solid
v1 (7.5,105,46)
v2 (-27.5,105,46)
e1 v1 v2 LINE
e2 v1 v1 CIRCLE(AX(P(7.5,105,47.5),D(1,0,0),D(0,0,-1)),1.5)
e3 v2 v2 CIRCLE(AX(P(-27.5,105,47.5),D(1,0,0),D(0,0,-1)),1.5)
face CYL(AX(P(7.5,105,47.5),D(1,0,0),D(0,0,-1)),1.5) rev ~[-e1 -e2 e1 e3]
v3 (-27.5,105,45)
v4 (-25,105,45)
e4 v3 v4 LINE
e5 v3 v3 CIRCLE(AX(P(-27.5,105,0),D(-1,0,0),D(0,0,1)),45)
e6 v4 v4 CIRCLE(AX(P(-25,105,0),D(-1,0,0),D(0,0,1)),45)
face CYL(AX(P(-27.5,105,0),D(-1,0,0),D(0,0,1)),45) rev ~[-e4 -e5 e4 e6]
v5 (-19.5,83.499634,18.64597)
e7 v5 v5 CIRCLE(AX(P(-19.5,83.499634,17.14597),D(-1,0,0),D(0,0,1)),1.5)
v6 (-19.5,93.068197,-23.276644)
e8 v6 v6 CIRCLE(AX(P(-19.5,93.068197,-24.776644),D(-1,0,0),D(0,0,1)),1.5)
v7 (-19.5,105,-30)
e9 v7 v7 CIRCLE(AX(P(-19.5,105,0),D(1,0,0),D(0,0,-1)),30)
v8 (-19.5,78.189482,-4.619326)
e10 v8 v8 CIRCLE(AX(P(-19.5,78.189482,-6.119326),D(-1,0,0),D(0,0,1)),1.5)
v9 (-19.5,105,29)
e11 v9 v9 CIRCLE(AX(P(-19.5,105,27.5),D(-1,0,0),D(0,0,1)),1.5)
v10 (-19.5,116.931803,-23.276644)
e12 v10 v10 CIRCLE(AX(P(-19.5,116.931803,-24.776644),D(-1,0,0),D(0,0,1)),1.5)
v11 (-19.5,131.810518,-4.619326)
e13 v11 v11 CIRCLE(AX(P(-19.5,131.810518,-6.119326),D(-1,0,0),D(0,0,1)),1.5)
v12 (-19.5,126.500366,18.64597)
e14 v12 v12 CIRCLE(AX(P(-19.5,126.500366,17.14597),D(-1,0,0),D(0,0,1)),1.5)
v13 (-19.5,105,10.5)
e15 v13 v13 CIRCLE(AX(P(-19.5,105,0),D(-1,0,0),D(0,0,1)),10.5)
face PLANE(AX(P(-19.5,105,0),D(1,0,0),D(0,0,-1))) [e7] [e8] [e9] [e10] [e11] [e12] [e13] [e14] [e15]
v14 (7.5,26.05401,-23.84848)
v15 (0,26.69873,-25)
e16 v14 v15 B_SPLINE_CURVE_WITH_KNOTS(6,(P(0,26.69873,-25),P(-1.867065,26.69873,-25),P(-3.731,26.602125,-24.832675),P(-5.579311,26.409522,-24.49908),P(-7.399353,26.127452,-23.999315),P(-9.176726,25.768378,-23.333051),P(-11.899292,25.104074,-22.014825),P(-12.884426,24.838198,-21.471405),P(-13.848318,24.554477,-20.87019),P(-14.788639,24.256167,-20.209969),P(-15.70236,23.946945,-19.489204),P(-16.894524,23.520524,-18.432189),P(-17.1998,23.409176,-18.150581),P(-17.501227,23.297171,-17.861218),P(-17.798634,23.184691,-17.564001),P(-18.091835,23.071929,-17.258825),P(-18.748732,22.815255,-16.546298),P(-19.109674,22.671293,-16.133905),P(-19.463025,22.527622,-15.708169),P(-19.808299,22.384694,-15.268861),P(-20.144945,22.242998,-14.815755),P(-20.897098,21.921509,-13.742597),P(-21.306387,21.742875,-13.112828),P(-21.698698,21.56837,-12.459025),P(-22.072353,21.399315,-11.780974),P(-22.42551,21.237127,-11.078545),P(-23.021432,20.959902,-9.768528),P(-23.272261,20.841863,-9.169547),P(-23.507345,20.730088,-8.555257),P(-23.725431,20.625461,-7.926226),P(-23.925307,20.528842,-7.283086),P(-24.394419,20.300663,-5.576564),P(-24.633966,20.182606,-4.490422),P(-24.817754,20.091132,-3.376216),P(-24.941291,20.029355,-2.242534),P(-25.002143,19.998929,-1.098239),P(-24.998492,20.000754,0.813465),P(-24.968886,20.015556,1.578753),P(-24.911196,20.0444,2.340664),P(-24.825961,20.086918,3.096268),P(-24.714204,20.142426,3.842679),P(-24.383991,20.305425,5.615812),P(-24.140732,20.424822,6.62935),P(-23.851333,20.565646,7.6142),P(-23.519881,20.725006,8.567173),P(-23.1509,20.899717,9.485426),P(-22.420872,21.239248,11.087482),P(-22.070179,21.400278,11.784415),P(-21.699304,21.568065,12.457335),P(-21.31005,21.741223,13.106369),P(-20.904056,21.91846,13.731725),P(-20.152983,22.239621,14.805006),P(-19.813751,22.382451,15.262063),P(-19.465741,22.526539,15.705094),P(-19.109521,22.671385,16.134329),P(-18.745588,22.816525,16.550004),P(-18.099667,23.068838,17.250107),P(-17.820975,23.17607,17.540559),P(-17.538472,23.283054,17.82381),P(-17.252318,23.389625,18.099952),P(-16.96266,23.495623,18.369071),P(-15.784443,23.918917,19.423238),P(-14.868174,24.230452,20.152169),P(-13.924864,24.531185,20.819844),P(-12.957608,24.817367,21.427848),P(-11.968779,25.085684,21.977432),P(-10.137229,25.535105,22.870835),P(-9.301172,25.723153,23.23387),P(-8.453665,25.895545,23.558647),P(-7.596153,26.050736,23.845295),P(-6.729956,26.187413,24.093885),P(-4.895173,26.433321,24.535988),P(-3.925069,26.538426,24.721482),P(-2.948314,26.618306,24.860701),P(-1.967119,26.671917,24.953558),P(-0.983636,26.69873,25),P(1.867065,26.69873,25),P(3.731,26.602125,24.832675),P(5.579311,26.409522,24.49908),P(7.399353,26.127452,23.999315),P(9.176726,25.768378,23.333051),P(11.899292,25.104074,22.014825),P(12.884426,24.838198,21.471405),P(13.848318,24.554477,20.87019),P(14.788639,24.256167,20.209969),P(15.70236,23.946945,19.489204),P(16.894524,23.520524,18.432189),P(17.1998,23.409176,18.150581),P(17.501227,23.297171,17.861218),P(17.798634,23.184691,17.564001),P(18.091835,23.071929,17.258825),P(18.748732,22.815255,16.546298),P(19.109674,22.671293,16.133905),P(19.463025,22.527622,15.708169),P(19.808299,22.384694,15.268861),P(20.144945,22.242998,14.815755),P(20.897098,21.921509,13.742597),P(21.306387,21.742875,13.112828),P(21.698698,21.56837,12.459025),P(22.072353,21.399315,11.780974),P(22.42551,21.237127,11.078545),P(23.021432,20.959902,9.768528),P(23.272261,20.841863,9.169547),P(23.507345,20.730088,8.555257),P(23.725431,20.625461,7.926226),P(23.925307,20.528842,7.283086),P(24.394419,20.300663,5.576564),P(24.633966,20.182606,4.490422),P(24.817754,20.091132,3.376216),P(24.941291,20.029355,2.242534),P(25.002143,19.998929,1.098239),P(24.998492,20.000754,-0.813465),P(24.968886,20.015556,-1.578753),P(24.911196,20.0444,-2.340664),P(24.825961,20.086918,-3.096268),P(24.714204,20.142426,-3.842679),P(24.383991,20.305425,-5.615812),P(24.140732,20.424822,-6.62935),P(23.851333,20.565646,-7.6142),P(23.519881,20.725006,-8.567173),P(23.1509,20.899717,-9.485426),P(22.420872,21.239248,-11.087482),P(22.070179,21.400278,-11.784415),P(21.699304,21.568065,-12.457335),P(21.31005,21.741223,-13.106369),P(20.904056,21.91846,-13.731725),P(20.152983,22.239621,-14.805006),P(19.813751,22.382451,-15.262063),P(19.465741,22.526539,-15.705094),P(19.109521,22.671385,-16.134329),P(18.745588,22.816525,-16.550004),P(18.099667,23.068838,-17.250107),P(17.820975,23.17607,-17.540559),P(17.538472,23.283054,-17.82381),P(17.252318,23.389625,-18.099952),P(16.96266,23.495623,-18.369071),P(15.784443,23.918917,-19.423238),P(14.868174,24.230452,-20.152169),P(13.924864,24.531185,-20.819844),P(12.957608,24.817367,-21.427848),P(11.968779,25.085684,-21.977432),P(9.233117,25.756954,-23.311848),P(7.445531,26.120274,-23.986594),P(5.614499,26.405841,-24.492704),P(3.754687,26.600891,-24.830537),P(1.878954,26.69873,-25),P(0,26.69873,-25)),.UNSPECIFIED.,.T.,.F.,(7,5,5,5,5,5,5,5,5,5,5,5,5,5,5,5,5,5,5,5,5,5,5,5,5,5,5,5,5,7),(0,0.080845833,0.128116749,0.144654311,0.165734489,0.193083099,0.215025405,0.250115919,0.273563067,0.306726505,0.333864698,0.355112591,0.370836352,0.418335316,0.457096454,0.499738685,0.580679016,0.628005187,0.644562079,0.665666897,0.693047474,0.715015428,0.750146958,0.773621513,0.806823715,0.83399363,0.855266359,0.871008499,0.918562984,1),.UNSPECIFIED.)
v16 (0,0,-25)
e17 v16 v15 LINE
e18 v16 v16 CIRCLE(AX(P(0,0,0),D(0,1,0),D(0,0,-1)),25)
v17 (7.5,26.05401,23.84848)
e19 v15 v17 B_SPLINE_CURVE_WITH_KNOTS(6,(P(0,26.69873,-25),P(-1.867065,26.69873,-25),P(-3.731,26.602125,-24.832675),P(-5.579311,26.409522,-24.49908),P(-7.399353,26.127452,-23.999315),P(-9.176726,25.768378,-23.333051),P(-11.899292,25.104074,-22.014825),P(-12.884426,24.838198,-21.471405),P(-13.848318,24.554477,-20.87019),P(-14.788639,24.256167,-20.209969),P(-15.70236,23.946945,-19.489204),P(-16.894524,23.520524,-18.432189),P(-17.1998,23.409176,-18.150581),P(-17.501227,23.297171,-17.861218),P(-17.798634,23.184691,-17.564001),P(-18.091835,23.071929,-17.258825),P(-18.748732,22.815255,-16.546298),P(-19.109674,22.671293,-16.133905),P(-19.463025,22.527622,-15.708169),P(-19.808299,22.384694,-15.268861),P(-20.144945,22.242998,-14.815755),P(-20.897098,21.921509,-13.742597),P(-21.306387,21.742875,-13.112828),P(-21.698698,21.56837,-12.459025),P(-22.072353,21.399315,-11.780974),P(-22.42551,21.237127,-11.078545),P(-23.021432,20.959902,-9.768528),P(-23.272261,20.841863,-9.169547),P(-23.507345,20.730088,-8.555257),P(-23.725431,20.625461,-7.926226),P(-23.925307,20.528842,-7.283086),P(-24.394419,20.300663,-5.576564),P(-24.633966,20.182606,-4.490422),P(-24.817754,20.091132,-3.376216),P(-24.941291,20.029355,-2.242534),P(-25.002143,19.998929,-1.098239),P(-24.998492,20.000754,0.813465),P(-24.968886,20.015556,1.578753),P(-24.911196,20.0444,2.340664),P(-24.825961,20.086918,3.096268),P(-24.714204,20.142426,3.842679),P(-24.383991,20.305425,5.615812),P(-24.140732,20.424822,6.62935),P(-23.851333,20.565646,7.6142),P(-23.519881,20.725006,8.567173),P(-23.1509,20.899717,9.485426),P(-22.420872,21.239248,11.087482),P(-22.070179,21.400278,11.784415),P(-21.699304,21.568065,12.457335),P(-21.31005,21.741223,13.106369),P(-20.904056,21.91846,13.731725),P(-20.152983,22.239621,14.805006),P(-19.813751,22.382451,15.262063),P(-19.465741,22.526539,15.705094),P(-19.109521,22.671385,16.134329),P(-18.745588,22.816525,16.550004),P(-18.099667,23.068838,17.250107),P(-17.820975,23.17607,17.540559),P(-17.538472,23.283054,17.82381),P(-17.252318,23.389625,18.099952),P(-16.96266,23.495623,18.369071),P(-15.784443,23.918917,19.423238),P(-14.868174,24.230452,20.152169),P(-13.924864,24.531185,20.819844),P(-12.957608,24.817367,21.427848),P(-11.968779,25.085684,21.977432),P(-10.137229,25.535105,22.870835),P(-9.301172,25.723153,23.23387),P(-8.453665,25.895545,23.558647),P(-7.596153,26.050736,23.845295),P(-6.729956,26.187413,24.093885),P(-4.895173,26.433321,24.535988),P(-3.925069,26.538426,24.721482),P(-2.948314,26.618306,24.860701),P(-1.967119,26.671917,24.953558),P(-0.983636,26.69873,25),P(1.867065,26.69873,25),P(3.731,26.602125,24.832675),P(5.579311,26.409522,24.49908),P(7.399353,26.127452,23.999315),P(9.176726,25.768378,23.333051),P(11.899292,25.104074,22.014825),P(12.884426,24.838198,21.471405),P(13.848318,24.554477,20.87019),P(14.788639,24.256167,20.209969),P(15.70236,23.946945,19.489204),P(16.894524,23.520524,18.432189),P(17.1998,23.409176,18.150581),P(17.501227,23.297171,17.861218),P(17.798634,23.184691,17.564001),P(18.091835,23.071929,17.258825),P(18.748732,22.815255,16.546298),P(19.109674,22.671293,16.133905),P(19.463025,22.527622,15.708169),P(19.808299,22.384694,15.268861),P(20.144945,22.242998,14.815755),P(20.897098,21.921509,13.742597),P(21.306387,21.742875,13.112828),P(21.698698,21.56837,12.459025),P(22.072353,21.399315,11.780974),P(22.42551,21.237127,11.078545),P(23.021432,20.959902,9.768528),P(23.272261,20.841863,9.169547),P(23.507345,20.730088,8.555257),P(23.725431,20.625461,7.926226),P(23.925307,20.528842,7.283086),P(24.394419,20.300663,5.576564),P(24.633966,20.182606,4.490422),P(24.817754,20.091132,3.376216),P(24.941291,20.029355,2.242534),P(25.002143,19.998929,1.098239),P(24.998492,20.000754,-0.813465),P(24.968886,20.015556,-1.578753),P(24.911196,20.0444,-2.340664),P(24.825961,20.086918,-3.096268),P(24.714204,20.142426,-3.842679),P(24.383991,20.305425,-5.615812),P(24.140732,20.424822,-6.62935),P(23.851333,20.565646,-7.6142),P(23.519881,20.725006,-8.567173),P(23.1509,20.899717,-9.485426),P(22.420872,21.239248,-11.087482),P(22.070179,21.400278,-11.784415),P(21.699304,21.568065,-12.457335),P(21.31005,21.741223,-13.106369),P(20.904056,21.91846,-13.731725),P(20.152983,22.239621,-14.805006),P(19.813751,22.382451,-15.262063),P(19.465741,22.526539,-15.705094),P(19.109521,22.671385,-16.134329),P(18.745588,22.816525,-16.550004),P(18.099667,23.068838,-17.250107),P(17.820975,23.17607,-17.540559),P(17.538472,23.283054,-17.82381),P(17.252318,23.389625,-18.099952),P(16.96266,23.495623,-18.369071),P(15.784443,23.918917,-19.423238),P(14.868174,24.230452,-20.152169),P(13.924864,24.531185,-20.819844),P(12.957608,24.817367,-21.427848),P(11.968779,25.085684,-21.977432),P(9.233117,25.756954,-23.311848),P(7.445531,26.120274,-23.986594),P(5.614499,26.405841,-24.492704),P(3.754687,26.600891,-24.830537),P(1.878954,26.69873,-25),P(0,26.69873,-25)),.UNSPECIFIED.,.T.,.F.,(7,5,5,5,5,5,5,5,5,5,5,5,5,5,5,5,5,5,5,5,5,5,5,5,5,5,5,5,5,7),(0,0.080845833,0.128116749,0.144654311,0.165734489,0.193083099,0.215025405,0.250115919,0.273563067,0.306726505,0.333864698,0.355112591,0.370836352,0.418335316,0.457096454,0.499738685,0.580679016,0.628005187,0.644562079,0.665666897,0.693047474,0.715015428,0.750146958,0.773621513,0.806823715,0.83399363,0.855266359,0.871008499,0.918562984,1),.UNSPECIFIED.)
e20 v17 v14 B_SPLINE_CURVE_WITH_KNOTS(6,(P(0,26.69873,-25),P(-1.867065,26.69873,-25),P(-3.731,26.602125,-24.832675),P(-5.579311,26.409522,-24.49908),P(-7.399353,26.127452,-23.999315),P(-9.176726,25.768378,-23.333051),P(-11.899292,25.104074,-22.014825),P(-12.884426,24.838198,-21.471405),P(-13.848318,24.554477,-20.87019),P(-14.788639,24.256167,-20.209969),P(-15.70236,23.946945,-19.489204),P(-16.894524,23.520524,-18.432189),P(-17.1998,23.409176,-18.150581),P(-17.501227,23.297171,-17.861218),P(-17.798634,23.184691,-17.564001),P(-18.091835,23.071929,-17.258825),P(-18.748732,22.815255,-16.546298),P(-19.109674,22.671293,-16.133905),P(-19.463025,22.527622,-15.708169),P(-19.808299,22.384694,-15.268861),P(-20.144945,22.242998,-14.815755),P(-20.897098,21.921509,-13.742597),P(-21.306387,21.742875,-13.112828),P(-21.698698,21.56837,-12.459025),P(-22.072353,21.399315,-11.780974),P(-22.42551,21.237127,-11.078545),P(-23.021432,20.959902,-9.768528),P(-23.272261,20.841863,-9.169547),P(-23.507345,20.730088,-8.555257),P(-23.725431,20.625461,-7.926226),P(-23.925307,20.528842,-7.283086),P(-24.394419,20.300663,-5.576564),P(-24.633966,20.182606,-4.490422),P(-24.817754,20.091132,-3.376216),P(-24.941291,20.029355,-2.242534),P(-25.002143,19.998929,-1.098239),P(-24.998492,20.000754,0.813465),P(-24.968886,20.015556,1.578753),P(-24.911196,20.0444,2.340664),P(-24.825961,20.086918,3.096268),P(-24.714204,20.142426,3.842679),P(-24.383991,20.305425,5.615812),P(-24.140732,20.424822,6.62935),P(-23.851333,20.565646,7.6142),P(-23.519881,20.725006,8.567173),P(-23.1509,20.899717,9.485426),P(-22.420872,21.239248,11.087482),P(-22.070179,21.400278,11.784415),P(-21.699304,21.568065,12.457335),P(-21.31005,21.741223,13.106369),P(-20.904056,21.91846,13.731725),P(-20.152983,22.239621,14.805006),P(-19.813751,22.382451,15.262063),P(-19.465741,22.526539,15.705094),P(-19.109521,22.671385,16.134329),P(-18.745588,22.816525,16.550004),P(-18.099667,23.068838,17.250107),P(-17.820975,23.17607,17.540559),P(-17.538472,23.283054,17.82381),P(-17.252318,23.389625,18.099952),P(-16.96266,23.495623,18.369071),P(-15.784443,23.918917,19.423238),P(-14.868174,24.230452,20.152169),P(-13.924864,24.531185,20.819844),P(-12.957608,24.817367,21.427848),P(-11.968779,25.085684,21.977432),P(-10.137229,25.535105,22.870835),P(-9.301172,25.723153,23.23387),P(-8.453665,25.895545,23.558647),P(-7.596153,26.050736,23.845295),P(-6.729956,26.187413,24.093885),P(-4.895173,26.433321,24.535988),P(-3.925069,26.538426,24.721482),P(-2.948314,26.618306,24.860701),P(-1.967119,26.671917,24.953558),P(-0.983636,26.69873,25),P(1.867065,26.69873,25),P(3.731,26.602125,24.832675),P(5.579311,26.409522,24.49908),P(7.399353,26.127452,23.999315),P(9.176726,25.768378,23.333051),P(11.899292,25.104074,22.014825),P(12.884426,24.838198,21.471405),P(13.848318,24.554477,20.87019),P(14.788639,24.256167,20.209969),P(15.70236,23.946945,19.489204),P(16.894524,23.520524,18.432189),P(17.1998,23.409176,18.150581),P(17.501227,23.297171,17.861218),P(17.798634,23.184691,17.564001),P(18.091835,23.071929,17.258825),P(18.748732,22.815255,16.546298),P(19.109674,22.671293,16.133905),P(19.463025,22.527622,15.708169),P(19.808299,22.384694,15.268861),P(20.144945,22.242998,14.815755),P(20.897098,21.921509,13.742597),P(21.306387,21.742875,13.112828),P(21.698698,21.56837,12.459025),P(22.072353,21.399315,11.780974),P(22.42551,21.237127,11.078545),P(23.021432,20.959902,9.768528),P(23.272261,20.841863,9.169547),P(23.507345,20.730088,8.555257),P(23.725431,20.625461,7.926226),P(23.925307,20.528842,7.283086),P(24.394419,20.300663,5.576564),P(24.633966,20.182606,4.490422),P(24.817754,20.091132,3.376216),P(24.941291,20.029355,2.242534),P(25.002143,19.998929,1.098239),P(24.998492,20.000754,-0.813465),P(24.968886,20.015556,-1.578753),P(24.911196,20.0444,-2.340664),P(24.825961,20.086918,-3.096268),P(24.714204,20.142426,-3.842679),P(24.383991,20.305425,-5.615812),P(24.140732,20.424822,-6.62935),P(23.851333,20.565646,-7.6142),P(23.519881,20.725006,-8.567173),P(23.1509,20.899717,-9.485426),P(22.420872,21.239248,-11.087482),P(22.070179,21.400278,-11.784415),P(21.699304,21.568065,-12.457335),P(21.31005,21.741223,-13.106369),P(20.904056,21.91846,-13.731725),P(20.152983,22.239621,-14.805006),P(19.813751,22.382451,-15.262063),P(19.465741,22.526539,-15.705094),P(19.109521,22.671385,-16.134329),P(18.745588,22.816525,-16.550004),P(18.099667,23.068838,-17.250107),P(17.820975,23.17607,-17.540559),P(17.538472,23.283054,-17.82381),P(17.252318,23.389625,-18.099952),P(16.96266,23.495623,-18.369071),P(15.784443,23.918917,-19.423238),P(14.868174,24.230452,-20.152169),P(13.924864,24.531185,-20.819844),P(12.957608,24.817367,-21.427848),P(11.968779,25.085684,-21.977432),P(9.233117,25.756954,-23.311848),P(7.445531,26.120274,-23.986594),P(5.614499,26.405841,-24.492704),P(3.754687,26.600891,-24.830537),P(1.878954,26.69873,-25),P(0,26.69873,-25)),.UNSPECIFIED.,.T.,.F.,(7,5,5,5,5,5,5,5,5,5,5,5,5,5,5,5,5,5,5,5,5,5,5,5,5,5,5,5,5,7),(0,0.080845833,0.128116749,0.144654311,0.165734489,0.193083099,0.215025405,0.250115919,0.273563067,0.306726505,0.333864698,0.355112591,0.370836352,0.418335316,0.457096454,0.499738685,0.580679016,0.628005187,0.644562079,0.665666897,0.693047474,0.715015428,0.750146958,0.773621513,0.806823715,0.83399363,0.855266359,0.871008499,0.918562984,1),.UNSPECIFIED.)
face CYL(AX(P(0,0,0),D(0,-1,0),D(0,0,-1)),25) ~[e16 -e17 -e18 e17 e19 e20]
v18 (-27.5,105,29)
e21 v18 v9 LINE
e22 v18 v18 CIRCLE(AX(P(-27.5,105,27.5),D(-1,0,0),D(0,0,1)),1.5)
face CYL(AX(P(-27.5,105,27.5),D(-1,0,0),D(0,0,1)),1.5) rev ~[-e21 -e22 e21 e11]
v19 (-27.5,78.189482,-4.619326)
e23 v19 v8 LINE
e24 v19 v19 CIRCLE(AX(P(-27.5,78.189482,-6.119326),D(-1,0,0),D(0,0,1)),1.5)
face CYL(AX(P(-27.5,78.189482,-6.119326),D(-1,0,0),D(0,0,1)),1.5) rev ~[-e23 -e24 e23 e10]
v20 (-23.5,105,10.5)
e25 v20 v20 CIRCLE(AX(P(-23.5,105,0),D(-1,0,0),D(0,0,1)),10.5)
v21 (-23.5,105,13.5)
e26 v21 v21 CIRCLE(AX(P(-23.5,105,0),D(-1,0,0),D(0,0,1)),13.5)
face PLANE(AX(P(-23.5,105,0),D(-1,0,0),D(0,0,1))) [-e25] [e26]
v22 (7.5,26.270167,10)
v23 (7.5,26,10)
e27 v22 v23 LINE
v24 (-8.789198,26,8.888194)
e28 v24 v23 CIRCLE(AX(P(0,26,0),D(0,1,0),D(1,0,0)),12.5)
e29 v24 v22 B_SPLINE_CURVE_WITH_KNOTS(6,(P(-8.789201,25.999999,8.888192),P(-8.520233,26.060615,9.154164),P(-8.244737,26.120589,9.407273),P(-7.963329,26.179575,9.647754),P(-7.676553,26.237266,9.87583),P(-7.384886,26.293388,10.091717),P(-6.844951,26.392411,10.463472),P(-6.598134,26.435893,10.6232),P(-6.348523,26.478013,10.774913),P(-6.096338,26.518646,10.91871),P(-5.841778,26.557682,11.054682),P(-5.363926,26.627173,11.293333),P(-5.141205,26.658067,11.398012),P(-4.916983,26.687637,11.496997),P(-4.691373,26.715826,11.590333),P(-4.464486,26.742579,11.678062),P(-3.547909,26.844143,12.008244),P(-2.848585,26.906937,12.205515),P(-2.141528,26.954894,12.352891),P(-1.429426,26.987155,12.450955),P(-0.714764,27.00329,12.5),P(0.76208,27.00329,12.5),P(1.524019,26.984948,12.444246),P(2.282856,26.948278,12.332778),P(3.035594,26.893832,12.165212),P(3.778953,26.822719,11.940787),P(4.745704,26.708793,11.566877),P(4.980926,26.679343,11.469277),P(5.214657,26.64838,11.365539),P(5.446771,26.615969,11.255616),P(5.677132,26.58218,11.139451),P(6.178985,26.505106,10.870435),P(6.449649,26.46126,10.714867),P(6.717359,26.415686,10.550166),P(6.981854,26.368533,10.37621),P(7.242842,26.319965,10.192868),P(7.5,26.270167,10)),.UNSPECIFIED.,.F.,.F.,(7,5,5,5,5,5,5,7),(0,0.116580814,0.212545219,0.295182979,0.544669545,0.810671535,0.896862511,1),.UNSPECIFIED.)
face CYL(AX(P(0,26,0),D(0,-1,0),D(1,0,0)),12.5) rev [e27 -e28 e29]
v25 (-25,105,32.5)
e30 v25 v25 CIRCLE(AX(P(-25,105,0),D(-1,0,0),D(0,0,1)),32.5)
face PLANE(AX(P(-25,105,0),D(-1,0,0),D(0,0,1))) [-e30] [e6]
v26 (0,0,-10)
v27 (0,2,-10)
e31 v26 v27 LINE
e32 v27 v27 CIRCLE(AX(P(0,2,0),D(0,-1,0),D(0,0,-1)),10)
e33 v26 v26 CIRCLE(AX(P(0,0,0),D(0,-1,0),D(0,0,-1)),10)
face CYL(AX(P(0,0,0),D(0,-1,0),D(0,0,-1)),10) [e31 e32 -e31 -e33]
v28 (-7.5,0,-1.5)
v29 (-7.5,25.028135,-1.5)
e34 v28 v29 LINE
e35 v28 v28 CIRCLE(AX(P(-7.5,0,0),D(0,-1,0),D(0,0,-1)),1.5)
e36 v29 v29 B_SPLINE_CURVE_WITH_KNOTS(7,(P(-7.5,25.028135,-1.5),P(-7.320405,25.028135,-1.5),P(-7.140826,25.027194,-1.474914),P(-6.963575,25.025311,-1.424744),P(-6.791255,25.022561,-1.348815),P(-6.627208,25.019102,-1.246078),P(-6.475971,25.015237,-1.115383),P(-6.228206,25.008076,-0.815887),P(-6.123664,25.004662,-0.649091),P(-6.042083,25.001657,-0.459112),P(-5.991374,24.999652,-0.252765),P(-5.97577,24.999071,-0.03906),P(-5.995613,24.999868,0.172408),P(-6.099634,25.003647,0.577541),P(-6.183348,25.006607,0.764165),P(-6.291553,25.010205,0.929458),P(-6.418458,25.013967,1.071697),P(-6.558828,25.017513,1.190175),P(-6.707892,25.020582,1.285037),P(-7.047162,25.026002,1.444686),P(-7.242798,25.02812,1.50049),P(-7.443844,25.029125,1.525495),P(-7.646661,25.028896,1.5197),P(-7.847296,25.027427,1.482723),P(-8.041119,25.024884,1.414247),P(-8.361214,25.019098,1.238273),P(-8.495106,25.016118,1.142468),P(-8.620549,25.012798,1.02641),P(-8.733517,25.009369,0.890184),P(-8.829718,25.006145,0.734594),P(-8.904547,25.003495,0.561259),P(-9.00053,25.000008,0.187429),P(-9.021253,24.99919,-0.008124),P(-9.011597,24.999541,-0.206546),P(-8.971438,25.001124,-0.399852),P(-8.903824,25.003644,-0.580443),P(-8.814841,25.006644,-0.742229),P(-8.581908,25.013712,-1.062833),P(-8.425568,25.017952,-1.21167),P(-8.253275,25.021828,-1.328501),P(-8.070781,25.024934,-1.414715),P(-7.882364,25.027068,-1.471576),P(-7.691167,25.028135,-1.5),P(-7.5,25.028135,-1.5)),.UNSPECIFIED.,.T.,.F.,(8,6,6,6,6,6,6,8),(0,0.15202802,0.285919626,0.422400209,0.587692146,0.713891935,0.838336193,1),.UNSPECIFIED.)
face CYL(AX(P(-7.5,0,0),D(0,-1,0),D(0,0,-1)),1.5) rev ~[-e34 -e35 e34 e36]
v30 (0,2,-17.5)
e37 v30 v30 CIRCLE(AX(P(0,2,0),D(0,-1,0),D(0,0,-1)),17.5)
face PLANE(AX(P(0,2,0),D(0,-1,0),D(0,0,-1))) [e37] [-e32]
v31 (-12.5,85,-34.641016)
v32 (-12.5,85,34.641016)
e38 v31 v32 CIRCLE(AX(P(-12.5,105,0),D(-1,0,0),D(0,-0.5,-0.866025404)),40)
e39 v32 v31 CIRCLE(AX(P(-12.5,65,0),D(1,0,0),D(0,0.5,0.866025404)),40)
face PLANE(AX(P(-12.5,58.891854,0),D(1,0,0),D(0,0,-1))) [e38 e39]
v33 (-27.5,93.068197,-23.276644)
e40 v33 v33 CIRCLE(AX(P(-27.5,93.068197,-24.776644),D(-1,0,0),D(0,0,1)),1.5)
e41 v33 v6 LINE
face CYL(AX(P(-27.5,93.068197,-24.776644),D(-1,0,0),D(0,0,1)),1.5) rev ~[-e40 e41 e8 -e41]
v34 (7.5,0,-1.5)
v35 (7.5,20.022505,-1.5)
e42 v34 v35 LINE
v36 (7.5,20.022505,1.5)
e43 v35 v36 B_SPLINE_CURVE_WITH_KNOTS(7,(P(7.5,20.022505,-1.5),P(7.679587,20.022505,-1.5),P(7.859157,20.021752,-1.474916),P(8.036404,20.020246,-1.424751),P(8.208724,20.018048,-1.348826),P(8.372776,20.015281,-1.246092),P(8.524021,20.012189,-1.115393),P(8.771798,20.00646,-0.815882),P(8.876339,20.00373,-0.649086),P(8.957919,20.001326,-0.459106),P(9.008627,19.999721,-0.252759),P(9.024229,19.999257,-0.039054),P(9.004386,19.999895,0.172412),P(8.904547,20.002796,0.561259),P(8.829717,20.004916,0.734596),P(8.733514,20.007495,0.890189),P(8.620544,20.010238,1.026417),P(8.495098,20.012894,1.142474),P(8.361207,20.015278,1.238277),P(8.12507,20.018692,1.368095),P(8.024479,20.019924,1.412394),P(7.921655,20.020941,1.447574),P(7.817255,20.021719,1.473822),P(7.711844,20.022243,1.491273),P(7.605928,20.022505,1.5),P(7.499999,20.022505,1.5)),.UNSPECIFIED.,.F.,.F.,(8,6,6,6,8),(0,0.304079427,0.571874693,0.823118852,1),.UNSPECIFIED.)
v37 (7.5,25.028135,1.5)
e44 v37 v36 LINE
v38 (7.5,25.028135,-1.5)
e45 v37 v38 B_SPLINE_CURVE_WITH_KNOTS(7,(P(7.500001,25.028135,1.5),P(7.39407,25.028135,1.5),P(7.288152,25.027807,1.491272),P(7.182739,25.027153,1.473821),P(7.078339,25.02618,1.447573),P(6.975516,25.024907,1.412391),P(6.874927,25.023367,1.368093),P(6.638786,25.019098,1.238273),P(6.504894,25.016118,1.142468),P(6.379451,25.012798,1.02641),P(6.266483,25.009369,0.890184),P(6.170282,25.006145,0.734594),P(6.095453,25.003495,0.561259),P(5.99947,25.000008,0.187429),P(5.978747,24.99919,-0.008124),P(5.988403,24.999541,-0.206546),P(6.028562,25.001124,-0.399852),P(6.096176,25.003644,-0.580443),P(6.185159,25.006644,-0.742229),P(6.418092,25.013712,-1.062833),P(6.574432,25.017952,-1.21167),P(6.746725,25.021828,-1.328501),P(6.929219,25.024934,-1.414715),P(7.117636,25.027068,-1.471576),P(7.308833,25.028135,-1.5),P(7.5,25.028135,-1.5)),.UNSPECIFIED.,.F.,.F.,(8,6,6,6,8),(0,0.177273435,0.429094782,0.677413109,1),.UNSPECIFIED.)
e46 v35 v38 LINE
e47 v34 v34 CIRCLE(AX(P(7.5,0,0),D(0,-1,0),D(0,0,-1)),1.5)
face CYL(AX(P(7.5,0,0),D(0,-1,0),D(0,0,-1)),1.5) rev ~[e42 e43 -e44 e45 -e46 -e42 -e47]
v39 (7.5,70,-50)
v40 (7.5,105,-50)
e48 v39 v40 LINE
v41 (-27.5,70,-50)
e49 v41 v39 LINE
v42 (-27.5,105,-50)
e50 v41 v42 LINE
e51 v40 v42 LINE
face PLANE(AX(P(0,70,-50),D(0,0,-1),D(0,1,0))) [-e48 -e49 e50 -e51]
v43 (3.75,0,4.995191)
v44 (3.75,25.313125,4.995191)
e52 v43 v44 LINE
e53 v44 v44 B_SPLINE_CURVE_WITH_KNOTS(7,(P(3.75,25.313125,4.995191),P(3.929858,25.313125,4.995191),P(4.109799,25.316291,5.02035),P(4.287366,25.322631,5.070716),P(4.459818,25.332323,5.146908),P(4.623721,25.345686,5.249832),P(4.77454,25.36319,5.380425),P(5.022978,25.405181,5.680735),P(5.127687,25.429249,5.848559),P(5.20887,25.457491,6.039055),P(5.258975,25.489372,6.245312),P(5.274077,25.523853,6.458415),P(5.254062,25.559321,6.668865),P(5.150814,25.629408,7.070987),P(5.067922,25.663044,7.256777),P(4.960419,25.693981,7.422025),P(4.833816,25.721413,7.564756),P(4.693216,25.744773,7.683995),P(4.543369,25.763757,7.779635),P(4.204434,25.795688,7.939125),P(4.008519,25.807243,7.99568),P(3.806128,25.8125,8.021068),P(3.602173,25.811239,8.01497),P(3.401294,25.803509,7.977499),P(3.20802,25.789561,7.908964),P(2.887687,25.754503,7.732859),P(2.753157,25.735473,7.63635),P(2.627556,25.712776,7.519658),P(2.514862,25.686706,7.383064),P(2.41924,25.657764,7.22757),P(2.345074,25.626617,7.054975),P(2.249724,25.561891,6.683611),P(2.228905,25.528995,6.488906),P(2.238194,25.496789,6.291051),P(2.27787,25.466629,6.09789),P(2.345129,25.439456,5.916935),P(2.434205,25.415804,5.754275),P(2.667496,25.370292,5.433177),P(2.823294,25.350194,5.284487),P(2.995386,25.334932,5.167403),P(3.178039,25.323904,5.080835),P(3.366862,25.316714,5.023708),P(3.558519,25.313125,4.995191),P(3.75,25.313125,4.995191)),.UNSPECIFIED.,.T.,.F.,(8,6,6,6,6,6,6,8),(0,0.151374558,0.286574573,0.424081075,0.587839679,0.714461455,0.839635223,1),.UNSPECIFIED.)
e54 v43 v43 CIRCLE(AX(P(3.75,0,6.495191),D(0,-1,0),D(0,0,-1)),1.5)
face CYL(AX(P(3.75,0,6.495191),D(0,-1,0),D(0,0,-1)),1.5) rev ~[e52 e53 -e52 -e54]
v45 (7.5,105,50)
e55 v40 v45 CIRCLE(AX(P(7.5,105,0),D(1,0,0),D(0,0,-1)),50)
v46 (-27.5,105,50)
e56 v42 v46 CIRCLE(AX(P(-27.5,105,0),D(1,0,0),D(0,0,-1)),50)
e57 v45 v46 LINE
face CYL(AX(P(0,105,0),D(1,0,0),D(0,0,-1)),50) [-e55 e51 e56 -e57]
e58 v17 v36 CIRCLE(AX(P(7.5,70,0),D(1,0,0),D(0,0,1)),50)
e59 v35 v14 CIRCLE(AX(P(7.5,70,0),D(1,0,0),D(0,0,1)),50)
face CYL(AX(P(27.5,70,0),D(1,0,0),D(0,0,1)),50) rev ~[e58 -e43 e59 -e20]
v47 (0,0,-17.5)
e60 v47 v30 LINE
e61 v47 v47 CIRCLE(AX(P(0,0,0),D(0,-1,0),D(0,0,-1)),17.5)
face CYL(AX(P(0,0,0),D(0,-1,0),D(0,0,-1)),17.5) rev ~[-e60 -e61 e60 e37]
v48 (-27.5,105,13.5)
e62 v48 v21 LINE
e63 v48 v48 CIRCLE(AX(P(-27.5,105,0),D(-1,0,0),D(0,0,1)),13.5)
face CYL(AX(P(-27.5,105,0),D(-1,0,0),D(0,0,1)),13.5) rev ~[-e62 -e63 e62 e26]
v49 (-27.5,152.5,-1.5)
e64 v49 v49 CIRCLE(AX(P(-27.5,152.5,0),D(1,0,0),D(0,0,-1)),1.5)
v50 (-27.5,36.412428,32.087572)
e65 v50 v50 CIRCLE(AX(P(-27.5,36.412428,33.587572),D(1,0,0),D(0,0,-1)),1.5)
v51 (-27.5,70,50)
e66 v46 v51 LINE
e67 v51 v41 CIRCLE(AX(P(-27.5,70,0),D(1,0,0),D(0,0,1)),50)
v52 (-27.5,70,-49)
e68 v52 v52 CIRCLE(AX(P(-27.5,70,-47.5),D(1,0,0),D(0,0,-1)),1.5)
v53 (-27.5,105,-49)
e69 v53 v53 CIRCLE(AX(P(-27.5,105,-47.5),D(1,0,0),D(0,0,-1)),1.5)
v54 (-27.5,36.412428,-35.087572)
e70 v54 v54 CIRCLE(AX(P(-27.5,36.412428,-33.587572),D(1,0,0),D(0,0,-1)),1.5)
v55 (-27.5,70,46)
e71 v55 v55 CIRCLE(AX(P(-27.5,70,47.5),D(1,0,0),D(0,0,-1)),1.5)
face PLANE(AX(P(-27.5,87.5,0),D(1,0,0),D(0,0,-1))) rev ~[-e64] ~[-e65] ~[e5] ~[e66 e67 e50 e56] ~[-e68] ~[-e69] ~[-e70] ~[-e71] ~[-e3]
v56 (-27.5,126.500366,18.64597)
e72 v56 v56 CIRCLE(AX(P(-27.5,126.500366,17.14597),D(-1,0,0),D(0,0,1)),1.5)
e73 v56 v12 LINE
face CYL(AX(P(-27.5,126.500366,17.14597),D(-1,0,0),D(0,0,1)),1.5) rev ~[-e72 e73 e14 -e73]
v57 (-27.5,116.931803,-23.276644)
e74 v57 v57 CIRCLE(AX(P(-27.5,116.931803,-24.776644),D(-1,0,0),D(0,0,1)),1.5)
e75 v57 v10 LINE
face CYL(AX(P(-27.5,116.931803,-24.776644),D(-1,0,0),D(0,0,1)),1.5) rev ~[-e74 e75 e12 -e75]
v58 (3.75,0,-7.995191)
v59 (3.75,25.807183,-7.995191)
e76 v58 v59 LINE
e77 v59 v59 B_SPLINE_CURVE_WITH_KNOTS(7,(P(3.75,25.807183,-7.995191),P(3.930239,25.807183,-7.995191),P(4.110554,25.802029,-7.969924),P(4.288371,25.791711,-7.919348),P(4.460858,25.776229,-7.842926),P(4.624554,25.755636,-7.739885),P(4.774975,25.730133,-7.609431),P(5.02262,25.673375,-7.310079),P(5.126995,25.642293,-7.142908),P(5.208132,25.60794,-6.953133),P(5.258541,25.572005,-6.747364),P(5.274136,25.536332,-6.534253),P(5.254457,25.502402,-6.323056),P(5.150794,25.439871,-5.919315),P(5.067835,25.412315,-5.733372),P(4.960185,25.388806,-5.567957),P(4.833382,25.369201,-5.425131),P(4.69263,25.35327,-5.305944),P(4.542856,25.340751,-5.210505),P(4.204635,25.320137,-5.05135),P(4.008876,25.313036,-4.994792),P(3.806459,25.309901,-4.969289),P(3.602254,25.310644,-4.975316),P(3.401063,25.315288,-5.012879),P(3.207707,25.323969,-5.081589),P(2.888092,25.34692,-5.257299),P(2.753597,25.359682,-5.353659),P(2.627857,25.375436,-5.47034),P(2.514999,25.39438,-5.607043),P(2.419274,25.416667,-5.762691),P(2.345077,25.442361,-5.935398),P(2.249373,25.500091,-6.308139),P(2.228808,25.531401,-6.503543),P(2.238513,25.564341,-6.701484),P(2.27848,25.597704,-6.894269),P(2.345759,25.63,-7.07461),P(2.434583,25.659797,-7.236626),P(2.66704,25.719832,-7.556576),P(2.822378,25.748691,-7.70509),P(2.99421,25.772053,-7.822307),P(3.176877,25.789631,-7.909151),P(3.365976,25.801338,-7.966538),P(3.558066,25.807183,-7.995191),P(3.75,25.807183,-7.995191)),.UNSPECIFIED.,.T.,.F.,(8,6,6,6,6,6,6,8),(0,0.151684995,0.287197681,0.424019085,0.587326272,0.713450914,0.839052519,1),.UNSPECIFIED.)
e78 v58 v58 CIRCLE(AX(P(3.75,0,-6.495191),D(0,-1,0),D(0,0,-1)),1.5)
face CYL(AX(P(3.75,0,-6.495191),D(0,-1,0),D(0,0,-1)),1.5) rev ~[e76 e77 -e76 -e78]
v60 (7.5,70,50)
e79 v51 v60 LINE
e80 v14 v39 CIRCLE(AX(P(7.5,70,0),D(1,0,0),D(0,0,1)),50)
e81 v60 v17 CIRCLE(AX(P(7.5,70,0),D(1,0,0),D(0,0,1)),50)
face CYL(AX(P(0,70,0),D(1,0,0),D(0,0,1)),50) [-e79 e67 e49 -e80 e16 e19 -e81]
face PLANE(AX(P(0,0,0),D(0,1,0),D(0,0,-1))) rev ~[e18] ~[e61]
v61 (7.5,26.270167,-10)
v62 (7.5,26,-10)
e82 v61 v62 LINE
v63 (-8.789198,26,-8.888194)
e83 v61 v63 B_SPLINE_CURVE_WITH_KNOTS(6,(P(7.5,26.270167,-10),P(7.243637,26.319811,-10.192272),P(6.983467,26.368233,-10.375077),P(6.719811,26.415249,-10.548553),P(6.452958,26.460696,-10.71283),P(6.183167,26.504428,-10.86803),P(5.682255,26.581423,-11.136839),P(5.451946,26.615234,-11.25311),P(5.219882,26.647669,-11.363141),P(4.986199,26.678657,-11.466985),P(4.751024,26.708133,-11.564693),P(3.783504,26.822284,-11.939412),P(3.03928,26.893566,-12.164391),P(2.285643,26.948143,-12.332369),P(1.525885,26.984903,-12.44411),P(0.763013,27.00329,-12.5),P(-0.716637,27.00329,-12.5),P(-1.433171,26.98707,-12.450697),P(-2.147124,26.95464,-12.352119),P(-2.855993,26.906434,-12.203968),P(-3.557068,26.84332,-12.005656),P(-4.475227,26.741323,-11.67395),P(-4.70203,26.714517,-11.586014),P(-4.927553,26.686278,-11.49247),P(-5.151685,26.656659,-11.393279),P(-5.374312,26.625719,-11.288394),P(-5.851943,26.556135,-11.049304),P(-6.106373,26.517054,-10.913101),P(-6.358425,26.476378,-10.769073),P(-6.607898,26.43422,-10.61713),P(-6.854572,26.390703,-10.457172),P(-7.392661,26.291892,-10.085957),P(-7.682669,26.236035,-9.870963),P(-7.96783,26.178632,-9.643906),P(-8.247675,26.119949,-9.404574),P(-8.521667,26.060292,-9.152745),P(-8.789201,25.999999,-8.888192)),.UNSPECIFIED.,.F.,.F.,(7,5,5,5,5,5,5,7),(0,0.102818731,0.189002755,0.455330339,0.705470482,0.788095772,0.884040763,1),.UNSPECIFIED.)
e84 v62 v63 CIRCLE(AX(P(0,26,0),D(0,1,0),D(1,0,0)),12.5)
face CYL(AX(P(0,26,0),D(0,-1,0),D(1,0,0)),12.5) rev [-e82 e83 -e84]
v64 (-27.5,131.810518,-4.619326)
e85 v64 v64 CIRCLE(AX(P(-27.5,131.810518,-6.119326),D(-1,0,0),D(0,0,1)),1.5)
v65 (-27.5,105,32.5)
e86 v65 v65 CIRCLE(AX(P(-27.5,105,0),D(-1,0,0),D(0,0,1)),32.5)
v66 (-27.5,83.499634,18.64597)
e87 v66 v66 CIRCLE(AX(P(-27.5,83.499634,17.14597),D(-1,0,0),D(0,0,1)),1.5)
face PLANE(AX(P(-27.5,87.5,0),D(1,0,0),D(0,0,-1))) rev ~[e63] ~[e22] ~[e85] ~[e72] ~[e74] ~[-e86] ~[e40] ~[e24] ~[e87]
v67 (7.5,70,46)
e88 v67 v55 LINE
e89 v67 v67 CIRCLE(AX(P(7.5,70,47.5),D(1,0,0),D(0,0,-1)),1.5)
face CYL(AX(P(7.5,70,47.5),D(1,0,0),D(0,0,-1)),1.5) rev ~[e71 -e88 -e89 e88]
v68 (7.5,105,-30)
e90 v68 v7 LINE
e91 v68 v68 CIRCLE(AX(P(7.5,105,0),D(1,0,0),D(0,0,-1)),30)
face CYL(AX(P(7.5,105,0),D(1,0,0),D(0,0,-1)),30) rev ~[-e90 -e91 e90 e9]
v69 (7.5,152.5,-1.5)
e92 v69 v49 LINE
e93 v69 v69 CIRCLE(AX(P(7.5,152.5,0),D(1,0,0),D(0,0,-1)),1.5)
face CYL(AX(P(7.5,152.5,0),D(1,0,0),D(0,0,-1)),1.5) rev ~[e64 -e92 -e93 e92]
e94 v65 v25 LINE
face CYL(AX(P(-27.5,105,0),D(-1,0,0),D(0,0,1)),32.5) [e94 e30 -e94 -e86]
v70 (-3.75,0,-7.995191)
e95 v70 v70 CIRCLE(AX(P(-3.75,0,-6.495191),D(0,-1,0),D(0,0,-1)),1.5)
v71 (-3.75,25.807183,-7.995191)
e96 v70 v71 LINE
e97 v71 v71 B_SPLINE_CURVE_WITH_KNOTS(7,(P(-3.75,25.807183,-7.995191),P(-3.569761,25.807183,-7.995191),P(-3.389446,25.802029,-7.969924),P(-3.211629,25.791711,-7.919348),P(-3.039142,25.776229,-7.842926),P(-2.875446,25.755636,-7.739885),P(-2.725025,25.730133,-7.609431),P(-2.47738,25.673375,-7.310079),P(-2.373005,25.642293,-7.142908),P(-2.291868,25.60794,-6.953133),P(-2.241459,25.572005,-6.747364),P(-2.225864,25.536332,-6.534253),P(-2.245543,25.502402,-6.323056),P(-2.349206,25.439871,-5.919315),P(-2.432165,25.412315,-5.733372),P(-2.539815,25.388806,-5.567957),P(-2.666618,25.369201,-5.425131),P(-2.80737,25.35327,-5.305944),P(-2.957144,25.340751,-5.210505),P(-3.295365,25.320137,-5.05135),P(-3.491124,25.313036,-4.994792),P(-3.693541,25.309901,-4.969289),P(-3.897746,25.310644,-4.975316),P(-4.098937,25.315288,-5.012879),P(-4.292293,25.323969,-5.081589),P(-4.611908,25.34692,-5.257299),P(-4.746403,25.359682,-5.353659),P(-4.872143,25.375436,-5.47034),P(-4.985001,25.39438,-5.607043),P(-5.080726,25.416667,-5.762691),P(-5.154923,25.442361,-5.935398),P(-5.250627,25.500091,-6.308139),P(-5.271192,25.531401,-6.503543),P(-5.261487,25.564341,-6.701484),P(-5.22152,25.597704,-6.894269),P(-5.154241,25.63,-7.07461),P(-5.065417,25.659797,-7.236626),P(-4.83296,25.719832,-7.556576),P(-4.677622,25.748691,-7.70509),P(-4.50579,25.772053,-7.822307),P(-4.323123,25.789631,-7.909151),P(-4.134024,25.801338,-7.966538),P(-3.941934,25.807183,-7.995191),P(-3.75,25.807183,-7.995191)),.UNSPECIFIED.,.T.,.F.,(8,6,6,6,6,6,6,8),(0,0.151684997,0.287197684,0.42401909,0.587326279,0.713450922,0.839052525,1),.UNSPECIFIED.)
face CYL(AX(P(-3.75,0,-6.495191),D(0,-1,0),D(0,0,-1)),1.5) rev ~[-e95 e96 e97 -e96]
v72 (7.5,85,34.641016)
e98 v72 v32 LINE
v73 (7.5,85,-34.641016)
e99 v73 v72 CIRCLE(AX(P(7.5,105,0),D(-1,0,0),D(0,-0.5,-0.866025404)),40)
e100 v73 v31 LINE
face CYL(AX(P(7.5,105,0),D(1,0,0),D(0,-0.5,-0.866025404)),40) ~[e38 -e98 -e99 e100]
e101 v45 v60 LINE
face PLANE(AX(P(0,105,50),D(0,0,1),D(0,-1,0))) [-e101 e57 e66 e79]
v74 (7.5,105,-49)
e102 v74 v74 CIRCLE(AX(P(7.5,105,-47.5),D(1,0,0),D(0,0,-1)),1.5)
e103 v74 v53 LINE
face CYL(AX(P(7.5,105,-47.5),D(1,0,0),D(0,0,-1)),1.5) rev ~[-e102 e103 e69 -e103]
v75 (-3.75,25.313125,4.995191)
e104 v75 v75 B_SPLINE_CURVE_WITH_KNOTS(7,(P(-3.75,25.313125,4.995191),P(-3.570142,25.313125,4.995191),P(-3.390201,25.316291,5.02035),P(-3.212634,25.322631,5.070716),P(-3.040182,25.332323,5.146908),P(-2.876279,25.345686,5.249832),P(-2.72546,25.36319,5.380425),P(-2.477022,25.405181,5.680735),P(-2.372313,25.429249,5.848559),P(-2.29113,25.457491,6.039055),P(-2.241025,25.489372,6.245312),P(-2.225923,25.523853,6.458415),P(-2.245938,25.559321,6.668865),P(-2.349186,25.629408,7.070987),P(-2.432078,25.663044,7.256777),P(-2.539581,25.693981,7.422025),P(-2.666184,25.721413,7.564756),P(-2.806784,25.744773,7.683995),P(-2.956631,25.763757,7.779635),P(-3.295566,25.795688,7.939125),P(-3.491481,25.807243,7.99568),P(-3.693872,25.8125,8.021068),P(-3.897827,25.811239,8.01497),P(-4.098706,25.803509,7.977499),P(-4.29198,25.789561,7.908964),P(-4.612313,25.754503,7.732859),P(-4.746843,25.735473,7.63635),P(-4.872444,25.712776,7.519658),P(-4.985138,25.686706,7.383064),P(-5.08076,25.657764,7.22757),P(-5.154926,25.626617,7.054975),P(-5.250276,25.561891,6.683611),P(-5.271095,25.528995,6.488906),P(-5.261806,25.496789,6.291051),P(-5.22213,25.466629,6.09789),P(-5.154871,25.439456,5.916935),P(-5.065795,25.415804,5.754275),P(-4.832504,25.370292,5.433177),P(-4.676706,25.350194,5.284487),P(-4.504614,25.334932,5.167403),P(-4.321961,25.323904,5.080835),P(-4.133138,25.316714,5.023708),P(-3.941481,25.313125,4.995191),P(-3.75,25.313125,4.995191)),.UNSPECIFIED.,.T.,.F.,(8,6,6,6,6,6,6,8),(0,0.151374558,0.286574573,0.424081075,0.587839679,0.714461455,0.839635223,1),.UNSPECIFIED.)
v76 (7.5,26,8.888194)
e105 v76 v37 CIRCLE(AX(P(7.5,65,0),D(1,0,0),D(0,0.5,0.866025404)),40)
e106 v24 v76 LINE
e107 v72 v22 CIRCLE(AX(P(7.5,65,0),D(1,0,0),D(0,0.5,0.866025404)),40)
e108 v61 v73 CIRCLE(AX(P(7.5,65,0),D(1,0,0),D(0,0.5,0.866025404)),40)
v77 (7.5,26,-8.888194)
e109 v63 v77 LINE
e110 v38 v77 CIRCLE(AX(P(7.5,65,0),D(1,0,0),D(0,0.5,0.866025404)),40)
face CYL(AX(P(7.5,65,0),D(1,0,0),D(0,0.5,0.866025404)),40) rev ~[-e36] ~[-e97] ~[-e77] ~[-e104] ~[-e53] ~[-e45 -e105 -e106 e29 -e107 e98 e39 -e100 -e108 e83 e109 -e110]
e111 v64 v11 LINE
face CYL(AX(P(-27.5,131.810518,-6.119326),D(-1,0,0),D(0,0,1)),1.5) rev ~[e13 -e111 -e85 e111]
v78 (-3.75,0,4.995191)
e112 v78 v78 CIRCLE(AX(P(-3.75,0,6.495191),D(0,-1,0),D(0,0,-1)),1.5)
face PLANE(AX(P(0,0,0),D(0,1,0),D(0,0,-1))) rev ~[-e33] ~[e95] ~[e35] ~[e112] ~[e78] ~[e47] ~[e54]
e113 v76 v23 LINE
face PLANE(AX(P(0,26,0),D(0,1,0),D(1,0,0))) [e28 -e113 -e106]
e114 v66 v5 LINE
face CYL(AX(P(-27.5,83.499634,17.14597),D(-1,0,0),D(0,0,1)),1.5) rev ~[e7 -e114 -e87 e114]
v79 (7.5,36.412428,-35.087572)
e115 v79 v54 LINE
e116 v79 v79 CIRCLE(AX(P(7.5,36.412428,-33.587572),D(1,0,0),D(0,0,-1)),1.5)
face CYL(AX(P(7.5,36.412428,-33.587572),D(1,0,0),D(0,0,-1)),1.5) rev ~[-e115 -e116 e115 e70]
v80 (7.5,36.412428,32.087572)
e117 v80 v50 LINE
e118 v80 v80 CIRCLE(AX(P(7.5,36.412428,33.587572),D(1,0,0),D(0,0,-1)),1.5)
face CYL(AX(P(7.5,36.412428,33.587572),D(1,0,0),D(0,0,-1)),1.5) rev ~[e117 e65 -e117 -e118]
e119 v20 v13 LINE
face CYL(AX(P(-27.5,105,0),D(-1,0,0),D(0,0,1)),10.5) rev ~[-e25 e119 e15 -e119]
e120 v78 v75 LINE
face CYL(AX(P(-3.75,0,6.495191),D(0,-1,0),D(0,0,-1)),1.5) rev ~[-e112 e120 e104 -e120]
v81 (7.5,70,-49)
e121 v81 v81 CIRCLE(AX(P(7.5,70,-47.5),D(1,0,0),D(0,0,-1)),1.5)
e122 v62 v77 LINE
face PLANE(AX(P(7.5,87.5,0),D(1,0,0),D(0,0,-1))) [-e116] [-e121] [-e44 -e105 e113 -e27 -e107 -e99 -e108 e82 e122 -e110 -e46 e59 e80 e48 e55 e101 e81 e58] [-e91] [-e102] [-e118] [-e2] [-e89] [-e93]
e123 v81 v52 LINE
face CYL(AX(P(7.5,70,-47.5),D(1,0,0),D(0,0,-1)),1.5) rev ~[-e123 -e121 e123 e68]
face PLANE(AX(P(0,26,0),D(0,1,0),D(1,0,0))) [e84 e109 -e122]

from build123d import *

# Parameters (mm, degrees)
SALIENTE_EXTRUIR3_DEPTH      = 27.5
SALIENTE_EXTRUIR4_REACH      = 167.17
SALIENTE_EXTRUIR4_END_RADIUS = 50
CROQUIS2_R                   = 25
CROQUIS5_R                   = 45
CROQUIS5_R_2                 = 32.5
CORTAR_EXTRUIR2_DEPTH        = 2.5
CROQUIS6_R                   = 10.5
CORTAR_EXTRUIR3_DEPTH        = 172.901134438
CORTAR_EXTRUIR4_DEPTH        = 20
CROQUIS8_R                   = 30
CORTAR_EXTRUIR5_DEPTH        = 27
CROQUIS9_R                   = 1.5
CORTAR_EXTRUIR7_DEPTH        = 30
CROQUIS10_R                  = 12.5
CORTAR_EXTRUIR8_DEPTH        = 5
CROQUIS11_R                  = 1.5
CORTAR_EXTRUIR9_DEPTH        = 172.117649646
CORTAR_EXTRUIR10_DEPTH       = 20
CROQUIS13_R                  = 1.5
CORTAR_EXTRUIR11_DEPTH       = 167.583312541
CROQUIS14_R                  = 17.5
CROQUIS14_R_2                = 10
CORTAR_EXTRUIR12_DEPTH       = 2
CROQUIS15_R                  = 13.5
CROQUIS15_R_2                = 10
CORTAR_EXTRUIR13_DEPTH       = 4


with BuildPart() as part:
    # Croquis3 → Saliente-Extruir3 (new, symmetric)
    with BuildSketch(Plane(origin=(0, 0, 0), x_dir=(0, 0, -1), z_dir=(1, 0, 0))):
        with BuildLine():
            Line((-50, 105), (-50, 70))
            ThreePointArc((-50, 70), (0, 20), (50, 70))
            Line((50, 70), (50, 105))
            ThreePointArc((50, 105), (0, 155), (-50, 105))
        make_face()
    extrude(amount=SALIENTE_EXTRUIR3_DEPTH, both=True)

    # Saliente-Extruir4: up to this cylinder (the profile starts outside it)
    saliente_extruir4_end = Plane(origin=(0, 70, 0), z_dir=(-1, 0, 0)) * Cylinder(SALIENTE_EXTRUIR4_END_RADIUS, 435.34, mode=Mode.PRIVATE)
    # Croquis2 → Saliente-Extruir4 (add, up to the surface)
    with BuildSketch(Plane(origin=(0, 0, 0), x_dir=(1, 0, 0), z_dir=(0, 1, 0)), mode=Mode.PRIVATE) as saliente_extruir4_sk1:
        with Locations(Location((0, 0, 0), (0, 0, 90))):
            Circle(CROQUIS2_R)
    saliente_extruir4_tool1 = extrude(saliente_extruir4_sk1.sketch, amount=SALIENTE_EXTRUIR4_REACH, mode=Mode.PRIVATE) - saliente_extruir4_end
    add(saliente_extruir4_tool1.solids().sort_by_distance((0, 0, 0))[0])

    # Croquis5 → Cortar-Extruir2 (cut)
    with BuildSketch(Plane.ZY.offset(27.5)):
        with Locations((0, 105)):
            Circle(CROQUIS5_R)
        with Locations((0, 105)):
            Circle(CROQUIS5_R_2, mode=Mode.SUBTRACT)
    extrude(amount=-CORTAR_EXTRUIR2_DEPTH, mode=Mode.SUBTRACT)

    # Croquis6 → Cortar-Extruir3 (cut, through all)
    with BuildSketch(Plane.ZY.offset(27.5)):
        with Locations((0, 105)):
            Circle(CROQUIS6_R)
    extrude(amount=-CORTAR_EXTRUIR3_DEPTH, mode=Mode.SUBTRACT)

    # Croquis7 → Cortar-Extruir4 (cut)
    with BuildSketch(Plane(origin=(27.5, 0, 0), x_dir=(0, 0, -1), z_dir=(1, 0, 0))):
        with BuildLine():
            Line((-50, 105), (-50, 70))
            ThreePointArc((-50, 70), (0, 20), (50, 70))
            Line((50, 70), (50, 105))
            ThreePointArc((50, 105), (0, 155), (-50, 105))
        make_face()
    extrude(amount=-CORTAR_EXTRUIR4_DEPTH, mode=Mode.SUBTRACT)

    # Croquis8 → Cortar-Extruir5 (cut)
    with BuildSketch(Plane(origin=(7.5, 0, 0), x_dir=(0, 0, -1), z_dir=(1, 0, 0))):
        with Locations((0, 105)):
            Circle(CROQUIS8_R)
    extrude(amount=-CORTAR_EXTRUIR5_DEPTH, mode=Mode.SUBTRACT)

    # Croquis9 → Cortar-Extruir7 (cut)
    with BuildSketch(Plane.XZ):
        with Locations(Location((7.5, 0, 0), (0, 0, 270))):
            Circle(CROQUIS9_R)
        with Locations(Location((3.75, -6.495190528, 0), (0, 0, 270))):
            Circle(CROQUIS9_R)
        with Locations(Location((-3.75, -6.495190528, 0), (0, 0, 270))):
            Circle(CROQUIS9_R)
        with Locations(Location((-7.5, 0, 0), (0, 0, 270))):
            Circle(CROQUIS9_R)
        with Locations(Location((-3.75, 6.495190528, 0), (0, 0, 270))):
            Circle(CROQUIS9_R)
        with Locations(Location((3.75, 6.495190528, 0), (0, 0, 270))):
            Circle(CROQUIS9_R)
    extrude(amount=-CORTAR_EXTRUIR7_DEPTH, mode=Mode.SUBTRACT)

    # Croquis10 → Cortar-Extruir8 (cut)
    with BuildSketch(Plane(origin=(0, 26, 0), x_dir=(1, 0, 0), z_dir=(0, 1, 0))):
        Circle(CROQUIS10_R)
    extrude(amount=CORTAR_EXTRUIR8_DEPTH, mode=Mode.SUBTRACT)

    # Croquis11 → Cortar-Extruir9 (cut, through all)
    with BuildSketch(Plane.ZY.offset(27.5)):
        with Locations((27.5, 105)):
            Circle(CROQUIS11_R)
        with Locations((17.145969551, 83.499634232)):
            Circle(CROQUIS11_R)
        with Locations((-6.119325684, 78.189482415)):
            Circle(CROQUIS11_R)
        with Locations((-24.776643867, 93.068197174)):
            Circle(CROQUIS11_R)
        with Locations((-24.776643867, 116.931802826)):
            Circle(CROQUIS11_R)
        with Locations((-6.119325684, 131.810517585)):
            Circle(CROQUIS11_R)
        with Locations((17.145969551, 126.500365768)):
            Circle(CROQUIS11_R)
    extrude(amount=-CORTAR_EXTRUIR9_DEPTH, mode=Mode.SUBTRACT)

    # Croquis12 → Cortar-Extruir10 (cut)
    with BuildSketch(Plane(origin=(7.5, 0, 0), x_dir=(0, 0, -1), z_dir=(1, 0, 0))):
        with BuildLine():
            ThreePointArc((-34.641016151, 85), (0, 25), (34.641016151, 85))
            ThreePointArc((34.641016151, 85), (0, 65), (-34.641016151, 85))
        make_face()
    extrude(amount=-CORTAR_EXTRUIR10_DEPTH, mode=Mode.SUBTRACT)

    # Croquis13 → Cortar-Extruir11 (cut, through all)
    with BuildSketch(Plane(origin=(7.5, 0, 0), x_dir=(0, 0, -1), z_dir=(1, 0, 0))):
        with Locations((0, 152.5)):
            Circle(CROQUIS13_R)
        with Locations((47.5, 105)):
            Circle(CROQUIS13_R)
        with Locations((-47.5, 105)):
            Circle(CROQUIS13_R)
        with Locations((-47.5, 70)):
            Circle(CROQUIS13_R)
        with Locations((47.5, 70)):
            Circle(CROQUIS13_R)
        with Locations((33.587572106, 36.412427894)):
            Circle(CROQUIS13_R)
        with Locations((-33.587572106, 36.412427894)):
            Circle(CROQUIS13_R)
    extrude(amount=-CORTAR_EXTRUIR11_DEPTH, mode=Mode.SUBTRACT)

    # Croquis14 → Cortar-Extruir12 (cut)
    with BuildSketch(Plane.XZ):
        with Locations(Location((0, 0, 0), (0, 0, 270))):
            Circle(CROQUIS14_R)
        with Locations(Location((0, 0, 0), (0, 0, 270))):
            Circle(CROQUIS14_R_2, mode=Mode.SUBTRACT)
    extrude(amount=-CORTAR_EXTRUIR12_DEPTH, mode=Mode.SUBTRACT)

    # Croquis15 → Cortar-Extruir13 (cut)
    with BuildSketch(Plane.ZY.offset(27.5)):
        with Locations((0, 105)):
            Circle(CROQUIS15_R)
        with Locations((0, 105)):
            Circle(CROQUIS15_R_2, mode=Mode.SUBTRACT)
    extrude(amount=-CORTAR_EXTRUIR13_DEPTH, mode=Mode.SUBTRACT)


solid = part.part
